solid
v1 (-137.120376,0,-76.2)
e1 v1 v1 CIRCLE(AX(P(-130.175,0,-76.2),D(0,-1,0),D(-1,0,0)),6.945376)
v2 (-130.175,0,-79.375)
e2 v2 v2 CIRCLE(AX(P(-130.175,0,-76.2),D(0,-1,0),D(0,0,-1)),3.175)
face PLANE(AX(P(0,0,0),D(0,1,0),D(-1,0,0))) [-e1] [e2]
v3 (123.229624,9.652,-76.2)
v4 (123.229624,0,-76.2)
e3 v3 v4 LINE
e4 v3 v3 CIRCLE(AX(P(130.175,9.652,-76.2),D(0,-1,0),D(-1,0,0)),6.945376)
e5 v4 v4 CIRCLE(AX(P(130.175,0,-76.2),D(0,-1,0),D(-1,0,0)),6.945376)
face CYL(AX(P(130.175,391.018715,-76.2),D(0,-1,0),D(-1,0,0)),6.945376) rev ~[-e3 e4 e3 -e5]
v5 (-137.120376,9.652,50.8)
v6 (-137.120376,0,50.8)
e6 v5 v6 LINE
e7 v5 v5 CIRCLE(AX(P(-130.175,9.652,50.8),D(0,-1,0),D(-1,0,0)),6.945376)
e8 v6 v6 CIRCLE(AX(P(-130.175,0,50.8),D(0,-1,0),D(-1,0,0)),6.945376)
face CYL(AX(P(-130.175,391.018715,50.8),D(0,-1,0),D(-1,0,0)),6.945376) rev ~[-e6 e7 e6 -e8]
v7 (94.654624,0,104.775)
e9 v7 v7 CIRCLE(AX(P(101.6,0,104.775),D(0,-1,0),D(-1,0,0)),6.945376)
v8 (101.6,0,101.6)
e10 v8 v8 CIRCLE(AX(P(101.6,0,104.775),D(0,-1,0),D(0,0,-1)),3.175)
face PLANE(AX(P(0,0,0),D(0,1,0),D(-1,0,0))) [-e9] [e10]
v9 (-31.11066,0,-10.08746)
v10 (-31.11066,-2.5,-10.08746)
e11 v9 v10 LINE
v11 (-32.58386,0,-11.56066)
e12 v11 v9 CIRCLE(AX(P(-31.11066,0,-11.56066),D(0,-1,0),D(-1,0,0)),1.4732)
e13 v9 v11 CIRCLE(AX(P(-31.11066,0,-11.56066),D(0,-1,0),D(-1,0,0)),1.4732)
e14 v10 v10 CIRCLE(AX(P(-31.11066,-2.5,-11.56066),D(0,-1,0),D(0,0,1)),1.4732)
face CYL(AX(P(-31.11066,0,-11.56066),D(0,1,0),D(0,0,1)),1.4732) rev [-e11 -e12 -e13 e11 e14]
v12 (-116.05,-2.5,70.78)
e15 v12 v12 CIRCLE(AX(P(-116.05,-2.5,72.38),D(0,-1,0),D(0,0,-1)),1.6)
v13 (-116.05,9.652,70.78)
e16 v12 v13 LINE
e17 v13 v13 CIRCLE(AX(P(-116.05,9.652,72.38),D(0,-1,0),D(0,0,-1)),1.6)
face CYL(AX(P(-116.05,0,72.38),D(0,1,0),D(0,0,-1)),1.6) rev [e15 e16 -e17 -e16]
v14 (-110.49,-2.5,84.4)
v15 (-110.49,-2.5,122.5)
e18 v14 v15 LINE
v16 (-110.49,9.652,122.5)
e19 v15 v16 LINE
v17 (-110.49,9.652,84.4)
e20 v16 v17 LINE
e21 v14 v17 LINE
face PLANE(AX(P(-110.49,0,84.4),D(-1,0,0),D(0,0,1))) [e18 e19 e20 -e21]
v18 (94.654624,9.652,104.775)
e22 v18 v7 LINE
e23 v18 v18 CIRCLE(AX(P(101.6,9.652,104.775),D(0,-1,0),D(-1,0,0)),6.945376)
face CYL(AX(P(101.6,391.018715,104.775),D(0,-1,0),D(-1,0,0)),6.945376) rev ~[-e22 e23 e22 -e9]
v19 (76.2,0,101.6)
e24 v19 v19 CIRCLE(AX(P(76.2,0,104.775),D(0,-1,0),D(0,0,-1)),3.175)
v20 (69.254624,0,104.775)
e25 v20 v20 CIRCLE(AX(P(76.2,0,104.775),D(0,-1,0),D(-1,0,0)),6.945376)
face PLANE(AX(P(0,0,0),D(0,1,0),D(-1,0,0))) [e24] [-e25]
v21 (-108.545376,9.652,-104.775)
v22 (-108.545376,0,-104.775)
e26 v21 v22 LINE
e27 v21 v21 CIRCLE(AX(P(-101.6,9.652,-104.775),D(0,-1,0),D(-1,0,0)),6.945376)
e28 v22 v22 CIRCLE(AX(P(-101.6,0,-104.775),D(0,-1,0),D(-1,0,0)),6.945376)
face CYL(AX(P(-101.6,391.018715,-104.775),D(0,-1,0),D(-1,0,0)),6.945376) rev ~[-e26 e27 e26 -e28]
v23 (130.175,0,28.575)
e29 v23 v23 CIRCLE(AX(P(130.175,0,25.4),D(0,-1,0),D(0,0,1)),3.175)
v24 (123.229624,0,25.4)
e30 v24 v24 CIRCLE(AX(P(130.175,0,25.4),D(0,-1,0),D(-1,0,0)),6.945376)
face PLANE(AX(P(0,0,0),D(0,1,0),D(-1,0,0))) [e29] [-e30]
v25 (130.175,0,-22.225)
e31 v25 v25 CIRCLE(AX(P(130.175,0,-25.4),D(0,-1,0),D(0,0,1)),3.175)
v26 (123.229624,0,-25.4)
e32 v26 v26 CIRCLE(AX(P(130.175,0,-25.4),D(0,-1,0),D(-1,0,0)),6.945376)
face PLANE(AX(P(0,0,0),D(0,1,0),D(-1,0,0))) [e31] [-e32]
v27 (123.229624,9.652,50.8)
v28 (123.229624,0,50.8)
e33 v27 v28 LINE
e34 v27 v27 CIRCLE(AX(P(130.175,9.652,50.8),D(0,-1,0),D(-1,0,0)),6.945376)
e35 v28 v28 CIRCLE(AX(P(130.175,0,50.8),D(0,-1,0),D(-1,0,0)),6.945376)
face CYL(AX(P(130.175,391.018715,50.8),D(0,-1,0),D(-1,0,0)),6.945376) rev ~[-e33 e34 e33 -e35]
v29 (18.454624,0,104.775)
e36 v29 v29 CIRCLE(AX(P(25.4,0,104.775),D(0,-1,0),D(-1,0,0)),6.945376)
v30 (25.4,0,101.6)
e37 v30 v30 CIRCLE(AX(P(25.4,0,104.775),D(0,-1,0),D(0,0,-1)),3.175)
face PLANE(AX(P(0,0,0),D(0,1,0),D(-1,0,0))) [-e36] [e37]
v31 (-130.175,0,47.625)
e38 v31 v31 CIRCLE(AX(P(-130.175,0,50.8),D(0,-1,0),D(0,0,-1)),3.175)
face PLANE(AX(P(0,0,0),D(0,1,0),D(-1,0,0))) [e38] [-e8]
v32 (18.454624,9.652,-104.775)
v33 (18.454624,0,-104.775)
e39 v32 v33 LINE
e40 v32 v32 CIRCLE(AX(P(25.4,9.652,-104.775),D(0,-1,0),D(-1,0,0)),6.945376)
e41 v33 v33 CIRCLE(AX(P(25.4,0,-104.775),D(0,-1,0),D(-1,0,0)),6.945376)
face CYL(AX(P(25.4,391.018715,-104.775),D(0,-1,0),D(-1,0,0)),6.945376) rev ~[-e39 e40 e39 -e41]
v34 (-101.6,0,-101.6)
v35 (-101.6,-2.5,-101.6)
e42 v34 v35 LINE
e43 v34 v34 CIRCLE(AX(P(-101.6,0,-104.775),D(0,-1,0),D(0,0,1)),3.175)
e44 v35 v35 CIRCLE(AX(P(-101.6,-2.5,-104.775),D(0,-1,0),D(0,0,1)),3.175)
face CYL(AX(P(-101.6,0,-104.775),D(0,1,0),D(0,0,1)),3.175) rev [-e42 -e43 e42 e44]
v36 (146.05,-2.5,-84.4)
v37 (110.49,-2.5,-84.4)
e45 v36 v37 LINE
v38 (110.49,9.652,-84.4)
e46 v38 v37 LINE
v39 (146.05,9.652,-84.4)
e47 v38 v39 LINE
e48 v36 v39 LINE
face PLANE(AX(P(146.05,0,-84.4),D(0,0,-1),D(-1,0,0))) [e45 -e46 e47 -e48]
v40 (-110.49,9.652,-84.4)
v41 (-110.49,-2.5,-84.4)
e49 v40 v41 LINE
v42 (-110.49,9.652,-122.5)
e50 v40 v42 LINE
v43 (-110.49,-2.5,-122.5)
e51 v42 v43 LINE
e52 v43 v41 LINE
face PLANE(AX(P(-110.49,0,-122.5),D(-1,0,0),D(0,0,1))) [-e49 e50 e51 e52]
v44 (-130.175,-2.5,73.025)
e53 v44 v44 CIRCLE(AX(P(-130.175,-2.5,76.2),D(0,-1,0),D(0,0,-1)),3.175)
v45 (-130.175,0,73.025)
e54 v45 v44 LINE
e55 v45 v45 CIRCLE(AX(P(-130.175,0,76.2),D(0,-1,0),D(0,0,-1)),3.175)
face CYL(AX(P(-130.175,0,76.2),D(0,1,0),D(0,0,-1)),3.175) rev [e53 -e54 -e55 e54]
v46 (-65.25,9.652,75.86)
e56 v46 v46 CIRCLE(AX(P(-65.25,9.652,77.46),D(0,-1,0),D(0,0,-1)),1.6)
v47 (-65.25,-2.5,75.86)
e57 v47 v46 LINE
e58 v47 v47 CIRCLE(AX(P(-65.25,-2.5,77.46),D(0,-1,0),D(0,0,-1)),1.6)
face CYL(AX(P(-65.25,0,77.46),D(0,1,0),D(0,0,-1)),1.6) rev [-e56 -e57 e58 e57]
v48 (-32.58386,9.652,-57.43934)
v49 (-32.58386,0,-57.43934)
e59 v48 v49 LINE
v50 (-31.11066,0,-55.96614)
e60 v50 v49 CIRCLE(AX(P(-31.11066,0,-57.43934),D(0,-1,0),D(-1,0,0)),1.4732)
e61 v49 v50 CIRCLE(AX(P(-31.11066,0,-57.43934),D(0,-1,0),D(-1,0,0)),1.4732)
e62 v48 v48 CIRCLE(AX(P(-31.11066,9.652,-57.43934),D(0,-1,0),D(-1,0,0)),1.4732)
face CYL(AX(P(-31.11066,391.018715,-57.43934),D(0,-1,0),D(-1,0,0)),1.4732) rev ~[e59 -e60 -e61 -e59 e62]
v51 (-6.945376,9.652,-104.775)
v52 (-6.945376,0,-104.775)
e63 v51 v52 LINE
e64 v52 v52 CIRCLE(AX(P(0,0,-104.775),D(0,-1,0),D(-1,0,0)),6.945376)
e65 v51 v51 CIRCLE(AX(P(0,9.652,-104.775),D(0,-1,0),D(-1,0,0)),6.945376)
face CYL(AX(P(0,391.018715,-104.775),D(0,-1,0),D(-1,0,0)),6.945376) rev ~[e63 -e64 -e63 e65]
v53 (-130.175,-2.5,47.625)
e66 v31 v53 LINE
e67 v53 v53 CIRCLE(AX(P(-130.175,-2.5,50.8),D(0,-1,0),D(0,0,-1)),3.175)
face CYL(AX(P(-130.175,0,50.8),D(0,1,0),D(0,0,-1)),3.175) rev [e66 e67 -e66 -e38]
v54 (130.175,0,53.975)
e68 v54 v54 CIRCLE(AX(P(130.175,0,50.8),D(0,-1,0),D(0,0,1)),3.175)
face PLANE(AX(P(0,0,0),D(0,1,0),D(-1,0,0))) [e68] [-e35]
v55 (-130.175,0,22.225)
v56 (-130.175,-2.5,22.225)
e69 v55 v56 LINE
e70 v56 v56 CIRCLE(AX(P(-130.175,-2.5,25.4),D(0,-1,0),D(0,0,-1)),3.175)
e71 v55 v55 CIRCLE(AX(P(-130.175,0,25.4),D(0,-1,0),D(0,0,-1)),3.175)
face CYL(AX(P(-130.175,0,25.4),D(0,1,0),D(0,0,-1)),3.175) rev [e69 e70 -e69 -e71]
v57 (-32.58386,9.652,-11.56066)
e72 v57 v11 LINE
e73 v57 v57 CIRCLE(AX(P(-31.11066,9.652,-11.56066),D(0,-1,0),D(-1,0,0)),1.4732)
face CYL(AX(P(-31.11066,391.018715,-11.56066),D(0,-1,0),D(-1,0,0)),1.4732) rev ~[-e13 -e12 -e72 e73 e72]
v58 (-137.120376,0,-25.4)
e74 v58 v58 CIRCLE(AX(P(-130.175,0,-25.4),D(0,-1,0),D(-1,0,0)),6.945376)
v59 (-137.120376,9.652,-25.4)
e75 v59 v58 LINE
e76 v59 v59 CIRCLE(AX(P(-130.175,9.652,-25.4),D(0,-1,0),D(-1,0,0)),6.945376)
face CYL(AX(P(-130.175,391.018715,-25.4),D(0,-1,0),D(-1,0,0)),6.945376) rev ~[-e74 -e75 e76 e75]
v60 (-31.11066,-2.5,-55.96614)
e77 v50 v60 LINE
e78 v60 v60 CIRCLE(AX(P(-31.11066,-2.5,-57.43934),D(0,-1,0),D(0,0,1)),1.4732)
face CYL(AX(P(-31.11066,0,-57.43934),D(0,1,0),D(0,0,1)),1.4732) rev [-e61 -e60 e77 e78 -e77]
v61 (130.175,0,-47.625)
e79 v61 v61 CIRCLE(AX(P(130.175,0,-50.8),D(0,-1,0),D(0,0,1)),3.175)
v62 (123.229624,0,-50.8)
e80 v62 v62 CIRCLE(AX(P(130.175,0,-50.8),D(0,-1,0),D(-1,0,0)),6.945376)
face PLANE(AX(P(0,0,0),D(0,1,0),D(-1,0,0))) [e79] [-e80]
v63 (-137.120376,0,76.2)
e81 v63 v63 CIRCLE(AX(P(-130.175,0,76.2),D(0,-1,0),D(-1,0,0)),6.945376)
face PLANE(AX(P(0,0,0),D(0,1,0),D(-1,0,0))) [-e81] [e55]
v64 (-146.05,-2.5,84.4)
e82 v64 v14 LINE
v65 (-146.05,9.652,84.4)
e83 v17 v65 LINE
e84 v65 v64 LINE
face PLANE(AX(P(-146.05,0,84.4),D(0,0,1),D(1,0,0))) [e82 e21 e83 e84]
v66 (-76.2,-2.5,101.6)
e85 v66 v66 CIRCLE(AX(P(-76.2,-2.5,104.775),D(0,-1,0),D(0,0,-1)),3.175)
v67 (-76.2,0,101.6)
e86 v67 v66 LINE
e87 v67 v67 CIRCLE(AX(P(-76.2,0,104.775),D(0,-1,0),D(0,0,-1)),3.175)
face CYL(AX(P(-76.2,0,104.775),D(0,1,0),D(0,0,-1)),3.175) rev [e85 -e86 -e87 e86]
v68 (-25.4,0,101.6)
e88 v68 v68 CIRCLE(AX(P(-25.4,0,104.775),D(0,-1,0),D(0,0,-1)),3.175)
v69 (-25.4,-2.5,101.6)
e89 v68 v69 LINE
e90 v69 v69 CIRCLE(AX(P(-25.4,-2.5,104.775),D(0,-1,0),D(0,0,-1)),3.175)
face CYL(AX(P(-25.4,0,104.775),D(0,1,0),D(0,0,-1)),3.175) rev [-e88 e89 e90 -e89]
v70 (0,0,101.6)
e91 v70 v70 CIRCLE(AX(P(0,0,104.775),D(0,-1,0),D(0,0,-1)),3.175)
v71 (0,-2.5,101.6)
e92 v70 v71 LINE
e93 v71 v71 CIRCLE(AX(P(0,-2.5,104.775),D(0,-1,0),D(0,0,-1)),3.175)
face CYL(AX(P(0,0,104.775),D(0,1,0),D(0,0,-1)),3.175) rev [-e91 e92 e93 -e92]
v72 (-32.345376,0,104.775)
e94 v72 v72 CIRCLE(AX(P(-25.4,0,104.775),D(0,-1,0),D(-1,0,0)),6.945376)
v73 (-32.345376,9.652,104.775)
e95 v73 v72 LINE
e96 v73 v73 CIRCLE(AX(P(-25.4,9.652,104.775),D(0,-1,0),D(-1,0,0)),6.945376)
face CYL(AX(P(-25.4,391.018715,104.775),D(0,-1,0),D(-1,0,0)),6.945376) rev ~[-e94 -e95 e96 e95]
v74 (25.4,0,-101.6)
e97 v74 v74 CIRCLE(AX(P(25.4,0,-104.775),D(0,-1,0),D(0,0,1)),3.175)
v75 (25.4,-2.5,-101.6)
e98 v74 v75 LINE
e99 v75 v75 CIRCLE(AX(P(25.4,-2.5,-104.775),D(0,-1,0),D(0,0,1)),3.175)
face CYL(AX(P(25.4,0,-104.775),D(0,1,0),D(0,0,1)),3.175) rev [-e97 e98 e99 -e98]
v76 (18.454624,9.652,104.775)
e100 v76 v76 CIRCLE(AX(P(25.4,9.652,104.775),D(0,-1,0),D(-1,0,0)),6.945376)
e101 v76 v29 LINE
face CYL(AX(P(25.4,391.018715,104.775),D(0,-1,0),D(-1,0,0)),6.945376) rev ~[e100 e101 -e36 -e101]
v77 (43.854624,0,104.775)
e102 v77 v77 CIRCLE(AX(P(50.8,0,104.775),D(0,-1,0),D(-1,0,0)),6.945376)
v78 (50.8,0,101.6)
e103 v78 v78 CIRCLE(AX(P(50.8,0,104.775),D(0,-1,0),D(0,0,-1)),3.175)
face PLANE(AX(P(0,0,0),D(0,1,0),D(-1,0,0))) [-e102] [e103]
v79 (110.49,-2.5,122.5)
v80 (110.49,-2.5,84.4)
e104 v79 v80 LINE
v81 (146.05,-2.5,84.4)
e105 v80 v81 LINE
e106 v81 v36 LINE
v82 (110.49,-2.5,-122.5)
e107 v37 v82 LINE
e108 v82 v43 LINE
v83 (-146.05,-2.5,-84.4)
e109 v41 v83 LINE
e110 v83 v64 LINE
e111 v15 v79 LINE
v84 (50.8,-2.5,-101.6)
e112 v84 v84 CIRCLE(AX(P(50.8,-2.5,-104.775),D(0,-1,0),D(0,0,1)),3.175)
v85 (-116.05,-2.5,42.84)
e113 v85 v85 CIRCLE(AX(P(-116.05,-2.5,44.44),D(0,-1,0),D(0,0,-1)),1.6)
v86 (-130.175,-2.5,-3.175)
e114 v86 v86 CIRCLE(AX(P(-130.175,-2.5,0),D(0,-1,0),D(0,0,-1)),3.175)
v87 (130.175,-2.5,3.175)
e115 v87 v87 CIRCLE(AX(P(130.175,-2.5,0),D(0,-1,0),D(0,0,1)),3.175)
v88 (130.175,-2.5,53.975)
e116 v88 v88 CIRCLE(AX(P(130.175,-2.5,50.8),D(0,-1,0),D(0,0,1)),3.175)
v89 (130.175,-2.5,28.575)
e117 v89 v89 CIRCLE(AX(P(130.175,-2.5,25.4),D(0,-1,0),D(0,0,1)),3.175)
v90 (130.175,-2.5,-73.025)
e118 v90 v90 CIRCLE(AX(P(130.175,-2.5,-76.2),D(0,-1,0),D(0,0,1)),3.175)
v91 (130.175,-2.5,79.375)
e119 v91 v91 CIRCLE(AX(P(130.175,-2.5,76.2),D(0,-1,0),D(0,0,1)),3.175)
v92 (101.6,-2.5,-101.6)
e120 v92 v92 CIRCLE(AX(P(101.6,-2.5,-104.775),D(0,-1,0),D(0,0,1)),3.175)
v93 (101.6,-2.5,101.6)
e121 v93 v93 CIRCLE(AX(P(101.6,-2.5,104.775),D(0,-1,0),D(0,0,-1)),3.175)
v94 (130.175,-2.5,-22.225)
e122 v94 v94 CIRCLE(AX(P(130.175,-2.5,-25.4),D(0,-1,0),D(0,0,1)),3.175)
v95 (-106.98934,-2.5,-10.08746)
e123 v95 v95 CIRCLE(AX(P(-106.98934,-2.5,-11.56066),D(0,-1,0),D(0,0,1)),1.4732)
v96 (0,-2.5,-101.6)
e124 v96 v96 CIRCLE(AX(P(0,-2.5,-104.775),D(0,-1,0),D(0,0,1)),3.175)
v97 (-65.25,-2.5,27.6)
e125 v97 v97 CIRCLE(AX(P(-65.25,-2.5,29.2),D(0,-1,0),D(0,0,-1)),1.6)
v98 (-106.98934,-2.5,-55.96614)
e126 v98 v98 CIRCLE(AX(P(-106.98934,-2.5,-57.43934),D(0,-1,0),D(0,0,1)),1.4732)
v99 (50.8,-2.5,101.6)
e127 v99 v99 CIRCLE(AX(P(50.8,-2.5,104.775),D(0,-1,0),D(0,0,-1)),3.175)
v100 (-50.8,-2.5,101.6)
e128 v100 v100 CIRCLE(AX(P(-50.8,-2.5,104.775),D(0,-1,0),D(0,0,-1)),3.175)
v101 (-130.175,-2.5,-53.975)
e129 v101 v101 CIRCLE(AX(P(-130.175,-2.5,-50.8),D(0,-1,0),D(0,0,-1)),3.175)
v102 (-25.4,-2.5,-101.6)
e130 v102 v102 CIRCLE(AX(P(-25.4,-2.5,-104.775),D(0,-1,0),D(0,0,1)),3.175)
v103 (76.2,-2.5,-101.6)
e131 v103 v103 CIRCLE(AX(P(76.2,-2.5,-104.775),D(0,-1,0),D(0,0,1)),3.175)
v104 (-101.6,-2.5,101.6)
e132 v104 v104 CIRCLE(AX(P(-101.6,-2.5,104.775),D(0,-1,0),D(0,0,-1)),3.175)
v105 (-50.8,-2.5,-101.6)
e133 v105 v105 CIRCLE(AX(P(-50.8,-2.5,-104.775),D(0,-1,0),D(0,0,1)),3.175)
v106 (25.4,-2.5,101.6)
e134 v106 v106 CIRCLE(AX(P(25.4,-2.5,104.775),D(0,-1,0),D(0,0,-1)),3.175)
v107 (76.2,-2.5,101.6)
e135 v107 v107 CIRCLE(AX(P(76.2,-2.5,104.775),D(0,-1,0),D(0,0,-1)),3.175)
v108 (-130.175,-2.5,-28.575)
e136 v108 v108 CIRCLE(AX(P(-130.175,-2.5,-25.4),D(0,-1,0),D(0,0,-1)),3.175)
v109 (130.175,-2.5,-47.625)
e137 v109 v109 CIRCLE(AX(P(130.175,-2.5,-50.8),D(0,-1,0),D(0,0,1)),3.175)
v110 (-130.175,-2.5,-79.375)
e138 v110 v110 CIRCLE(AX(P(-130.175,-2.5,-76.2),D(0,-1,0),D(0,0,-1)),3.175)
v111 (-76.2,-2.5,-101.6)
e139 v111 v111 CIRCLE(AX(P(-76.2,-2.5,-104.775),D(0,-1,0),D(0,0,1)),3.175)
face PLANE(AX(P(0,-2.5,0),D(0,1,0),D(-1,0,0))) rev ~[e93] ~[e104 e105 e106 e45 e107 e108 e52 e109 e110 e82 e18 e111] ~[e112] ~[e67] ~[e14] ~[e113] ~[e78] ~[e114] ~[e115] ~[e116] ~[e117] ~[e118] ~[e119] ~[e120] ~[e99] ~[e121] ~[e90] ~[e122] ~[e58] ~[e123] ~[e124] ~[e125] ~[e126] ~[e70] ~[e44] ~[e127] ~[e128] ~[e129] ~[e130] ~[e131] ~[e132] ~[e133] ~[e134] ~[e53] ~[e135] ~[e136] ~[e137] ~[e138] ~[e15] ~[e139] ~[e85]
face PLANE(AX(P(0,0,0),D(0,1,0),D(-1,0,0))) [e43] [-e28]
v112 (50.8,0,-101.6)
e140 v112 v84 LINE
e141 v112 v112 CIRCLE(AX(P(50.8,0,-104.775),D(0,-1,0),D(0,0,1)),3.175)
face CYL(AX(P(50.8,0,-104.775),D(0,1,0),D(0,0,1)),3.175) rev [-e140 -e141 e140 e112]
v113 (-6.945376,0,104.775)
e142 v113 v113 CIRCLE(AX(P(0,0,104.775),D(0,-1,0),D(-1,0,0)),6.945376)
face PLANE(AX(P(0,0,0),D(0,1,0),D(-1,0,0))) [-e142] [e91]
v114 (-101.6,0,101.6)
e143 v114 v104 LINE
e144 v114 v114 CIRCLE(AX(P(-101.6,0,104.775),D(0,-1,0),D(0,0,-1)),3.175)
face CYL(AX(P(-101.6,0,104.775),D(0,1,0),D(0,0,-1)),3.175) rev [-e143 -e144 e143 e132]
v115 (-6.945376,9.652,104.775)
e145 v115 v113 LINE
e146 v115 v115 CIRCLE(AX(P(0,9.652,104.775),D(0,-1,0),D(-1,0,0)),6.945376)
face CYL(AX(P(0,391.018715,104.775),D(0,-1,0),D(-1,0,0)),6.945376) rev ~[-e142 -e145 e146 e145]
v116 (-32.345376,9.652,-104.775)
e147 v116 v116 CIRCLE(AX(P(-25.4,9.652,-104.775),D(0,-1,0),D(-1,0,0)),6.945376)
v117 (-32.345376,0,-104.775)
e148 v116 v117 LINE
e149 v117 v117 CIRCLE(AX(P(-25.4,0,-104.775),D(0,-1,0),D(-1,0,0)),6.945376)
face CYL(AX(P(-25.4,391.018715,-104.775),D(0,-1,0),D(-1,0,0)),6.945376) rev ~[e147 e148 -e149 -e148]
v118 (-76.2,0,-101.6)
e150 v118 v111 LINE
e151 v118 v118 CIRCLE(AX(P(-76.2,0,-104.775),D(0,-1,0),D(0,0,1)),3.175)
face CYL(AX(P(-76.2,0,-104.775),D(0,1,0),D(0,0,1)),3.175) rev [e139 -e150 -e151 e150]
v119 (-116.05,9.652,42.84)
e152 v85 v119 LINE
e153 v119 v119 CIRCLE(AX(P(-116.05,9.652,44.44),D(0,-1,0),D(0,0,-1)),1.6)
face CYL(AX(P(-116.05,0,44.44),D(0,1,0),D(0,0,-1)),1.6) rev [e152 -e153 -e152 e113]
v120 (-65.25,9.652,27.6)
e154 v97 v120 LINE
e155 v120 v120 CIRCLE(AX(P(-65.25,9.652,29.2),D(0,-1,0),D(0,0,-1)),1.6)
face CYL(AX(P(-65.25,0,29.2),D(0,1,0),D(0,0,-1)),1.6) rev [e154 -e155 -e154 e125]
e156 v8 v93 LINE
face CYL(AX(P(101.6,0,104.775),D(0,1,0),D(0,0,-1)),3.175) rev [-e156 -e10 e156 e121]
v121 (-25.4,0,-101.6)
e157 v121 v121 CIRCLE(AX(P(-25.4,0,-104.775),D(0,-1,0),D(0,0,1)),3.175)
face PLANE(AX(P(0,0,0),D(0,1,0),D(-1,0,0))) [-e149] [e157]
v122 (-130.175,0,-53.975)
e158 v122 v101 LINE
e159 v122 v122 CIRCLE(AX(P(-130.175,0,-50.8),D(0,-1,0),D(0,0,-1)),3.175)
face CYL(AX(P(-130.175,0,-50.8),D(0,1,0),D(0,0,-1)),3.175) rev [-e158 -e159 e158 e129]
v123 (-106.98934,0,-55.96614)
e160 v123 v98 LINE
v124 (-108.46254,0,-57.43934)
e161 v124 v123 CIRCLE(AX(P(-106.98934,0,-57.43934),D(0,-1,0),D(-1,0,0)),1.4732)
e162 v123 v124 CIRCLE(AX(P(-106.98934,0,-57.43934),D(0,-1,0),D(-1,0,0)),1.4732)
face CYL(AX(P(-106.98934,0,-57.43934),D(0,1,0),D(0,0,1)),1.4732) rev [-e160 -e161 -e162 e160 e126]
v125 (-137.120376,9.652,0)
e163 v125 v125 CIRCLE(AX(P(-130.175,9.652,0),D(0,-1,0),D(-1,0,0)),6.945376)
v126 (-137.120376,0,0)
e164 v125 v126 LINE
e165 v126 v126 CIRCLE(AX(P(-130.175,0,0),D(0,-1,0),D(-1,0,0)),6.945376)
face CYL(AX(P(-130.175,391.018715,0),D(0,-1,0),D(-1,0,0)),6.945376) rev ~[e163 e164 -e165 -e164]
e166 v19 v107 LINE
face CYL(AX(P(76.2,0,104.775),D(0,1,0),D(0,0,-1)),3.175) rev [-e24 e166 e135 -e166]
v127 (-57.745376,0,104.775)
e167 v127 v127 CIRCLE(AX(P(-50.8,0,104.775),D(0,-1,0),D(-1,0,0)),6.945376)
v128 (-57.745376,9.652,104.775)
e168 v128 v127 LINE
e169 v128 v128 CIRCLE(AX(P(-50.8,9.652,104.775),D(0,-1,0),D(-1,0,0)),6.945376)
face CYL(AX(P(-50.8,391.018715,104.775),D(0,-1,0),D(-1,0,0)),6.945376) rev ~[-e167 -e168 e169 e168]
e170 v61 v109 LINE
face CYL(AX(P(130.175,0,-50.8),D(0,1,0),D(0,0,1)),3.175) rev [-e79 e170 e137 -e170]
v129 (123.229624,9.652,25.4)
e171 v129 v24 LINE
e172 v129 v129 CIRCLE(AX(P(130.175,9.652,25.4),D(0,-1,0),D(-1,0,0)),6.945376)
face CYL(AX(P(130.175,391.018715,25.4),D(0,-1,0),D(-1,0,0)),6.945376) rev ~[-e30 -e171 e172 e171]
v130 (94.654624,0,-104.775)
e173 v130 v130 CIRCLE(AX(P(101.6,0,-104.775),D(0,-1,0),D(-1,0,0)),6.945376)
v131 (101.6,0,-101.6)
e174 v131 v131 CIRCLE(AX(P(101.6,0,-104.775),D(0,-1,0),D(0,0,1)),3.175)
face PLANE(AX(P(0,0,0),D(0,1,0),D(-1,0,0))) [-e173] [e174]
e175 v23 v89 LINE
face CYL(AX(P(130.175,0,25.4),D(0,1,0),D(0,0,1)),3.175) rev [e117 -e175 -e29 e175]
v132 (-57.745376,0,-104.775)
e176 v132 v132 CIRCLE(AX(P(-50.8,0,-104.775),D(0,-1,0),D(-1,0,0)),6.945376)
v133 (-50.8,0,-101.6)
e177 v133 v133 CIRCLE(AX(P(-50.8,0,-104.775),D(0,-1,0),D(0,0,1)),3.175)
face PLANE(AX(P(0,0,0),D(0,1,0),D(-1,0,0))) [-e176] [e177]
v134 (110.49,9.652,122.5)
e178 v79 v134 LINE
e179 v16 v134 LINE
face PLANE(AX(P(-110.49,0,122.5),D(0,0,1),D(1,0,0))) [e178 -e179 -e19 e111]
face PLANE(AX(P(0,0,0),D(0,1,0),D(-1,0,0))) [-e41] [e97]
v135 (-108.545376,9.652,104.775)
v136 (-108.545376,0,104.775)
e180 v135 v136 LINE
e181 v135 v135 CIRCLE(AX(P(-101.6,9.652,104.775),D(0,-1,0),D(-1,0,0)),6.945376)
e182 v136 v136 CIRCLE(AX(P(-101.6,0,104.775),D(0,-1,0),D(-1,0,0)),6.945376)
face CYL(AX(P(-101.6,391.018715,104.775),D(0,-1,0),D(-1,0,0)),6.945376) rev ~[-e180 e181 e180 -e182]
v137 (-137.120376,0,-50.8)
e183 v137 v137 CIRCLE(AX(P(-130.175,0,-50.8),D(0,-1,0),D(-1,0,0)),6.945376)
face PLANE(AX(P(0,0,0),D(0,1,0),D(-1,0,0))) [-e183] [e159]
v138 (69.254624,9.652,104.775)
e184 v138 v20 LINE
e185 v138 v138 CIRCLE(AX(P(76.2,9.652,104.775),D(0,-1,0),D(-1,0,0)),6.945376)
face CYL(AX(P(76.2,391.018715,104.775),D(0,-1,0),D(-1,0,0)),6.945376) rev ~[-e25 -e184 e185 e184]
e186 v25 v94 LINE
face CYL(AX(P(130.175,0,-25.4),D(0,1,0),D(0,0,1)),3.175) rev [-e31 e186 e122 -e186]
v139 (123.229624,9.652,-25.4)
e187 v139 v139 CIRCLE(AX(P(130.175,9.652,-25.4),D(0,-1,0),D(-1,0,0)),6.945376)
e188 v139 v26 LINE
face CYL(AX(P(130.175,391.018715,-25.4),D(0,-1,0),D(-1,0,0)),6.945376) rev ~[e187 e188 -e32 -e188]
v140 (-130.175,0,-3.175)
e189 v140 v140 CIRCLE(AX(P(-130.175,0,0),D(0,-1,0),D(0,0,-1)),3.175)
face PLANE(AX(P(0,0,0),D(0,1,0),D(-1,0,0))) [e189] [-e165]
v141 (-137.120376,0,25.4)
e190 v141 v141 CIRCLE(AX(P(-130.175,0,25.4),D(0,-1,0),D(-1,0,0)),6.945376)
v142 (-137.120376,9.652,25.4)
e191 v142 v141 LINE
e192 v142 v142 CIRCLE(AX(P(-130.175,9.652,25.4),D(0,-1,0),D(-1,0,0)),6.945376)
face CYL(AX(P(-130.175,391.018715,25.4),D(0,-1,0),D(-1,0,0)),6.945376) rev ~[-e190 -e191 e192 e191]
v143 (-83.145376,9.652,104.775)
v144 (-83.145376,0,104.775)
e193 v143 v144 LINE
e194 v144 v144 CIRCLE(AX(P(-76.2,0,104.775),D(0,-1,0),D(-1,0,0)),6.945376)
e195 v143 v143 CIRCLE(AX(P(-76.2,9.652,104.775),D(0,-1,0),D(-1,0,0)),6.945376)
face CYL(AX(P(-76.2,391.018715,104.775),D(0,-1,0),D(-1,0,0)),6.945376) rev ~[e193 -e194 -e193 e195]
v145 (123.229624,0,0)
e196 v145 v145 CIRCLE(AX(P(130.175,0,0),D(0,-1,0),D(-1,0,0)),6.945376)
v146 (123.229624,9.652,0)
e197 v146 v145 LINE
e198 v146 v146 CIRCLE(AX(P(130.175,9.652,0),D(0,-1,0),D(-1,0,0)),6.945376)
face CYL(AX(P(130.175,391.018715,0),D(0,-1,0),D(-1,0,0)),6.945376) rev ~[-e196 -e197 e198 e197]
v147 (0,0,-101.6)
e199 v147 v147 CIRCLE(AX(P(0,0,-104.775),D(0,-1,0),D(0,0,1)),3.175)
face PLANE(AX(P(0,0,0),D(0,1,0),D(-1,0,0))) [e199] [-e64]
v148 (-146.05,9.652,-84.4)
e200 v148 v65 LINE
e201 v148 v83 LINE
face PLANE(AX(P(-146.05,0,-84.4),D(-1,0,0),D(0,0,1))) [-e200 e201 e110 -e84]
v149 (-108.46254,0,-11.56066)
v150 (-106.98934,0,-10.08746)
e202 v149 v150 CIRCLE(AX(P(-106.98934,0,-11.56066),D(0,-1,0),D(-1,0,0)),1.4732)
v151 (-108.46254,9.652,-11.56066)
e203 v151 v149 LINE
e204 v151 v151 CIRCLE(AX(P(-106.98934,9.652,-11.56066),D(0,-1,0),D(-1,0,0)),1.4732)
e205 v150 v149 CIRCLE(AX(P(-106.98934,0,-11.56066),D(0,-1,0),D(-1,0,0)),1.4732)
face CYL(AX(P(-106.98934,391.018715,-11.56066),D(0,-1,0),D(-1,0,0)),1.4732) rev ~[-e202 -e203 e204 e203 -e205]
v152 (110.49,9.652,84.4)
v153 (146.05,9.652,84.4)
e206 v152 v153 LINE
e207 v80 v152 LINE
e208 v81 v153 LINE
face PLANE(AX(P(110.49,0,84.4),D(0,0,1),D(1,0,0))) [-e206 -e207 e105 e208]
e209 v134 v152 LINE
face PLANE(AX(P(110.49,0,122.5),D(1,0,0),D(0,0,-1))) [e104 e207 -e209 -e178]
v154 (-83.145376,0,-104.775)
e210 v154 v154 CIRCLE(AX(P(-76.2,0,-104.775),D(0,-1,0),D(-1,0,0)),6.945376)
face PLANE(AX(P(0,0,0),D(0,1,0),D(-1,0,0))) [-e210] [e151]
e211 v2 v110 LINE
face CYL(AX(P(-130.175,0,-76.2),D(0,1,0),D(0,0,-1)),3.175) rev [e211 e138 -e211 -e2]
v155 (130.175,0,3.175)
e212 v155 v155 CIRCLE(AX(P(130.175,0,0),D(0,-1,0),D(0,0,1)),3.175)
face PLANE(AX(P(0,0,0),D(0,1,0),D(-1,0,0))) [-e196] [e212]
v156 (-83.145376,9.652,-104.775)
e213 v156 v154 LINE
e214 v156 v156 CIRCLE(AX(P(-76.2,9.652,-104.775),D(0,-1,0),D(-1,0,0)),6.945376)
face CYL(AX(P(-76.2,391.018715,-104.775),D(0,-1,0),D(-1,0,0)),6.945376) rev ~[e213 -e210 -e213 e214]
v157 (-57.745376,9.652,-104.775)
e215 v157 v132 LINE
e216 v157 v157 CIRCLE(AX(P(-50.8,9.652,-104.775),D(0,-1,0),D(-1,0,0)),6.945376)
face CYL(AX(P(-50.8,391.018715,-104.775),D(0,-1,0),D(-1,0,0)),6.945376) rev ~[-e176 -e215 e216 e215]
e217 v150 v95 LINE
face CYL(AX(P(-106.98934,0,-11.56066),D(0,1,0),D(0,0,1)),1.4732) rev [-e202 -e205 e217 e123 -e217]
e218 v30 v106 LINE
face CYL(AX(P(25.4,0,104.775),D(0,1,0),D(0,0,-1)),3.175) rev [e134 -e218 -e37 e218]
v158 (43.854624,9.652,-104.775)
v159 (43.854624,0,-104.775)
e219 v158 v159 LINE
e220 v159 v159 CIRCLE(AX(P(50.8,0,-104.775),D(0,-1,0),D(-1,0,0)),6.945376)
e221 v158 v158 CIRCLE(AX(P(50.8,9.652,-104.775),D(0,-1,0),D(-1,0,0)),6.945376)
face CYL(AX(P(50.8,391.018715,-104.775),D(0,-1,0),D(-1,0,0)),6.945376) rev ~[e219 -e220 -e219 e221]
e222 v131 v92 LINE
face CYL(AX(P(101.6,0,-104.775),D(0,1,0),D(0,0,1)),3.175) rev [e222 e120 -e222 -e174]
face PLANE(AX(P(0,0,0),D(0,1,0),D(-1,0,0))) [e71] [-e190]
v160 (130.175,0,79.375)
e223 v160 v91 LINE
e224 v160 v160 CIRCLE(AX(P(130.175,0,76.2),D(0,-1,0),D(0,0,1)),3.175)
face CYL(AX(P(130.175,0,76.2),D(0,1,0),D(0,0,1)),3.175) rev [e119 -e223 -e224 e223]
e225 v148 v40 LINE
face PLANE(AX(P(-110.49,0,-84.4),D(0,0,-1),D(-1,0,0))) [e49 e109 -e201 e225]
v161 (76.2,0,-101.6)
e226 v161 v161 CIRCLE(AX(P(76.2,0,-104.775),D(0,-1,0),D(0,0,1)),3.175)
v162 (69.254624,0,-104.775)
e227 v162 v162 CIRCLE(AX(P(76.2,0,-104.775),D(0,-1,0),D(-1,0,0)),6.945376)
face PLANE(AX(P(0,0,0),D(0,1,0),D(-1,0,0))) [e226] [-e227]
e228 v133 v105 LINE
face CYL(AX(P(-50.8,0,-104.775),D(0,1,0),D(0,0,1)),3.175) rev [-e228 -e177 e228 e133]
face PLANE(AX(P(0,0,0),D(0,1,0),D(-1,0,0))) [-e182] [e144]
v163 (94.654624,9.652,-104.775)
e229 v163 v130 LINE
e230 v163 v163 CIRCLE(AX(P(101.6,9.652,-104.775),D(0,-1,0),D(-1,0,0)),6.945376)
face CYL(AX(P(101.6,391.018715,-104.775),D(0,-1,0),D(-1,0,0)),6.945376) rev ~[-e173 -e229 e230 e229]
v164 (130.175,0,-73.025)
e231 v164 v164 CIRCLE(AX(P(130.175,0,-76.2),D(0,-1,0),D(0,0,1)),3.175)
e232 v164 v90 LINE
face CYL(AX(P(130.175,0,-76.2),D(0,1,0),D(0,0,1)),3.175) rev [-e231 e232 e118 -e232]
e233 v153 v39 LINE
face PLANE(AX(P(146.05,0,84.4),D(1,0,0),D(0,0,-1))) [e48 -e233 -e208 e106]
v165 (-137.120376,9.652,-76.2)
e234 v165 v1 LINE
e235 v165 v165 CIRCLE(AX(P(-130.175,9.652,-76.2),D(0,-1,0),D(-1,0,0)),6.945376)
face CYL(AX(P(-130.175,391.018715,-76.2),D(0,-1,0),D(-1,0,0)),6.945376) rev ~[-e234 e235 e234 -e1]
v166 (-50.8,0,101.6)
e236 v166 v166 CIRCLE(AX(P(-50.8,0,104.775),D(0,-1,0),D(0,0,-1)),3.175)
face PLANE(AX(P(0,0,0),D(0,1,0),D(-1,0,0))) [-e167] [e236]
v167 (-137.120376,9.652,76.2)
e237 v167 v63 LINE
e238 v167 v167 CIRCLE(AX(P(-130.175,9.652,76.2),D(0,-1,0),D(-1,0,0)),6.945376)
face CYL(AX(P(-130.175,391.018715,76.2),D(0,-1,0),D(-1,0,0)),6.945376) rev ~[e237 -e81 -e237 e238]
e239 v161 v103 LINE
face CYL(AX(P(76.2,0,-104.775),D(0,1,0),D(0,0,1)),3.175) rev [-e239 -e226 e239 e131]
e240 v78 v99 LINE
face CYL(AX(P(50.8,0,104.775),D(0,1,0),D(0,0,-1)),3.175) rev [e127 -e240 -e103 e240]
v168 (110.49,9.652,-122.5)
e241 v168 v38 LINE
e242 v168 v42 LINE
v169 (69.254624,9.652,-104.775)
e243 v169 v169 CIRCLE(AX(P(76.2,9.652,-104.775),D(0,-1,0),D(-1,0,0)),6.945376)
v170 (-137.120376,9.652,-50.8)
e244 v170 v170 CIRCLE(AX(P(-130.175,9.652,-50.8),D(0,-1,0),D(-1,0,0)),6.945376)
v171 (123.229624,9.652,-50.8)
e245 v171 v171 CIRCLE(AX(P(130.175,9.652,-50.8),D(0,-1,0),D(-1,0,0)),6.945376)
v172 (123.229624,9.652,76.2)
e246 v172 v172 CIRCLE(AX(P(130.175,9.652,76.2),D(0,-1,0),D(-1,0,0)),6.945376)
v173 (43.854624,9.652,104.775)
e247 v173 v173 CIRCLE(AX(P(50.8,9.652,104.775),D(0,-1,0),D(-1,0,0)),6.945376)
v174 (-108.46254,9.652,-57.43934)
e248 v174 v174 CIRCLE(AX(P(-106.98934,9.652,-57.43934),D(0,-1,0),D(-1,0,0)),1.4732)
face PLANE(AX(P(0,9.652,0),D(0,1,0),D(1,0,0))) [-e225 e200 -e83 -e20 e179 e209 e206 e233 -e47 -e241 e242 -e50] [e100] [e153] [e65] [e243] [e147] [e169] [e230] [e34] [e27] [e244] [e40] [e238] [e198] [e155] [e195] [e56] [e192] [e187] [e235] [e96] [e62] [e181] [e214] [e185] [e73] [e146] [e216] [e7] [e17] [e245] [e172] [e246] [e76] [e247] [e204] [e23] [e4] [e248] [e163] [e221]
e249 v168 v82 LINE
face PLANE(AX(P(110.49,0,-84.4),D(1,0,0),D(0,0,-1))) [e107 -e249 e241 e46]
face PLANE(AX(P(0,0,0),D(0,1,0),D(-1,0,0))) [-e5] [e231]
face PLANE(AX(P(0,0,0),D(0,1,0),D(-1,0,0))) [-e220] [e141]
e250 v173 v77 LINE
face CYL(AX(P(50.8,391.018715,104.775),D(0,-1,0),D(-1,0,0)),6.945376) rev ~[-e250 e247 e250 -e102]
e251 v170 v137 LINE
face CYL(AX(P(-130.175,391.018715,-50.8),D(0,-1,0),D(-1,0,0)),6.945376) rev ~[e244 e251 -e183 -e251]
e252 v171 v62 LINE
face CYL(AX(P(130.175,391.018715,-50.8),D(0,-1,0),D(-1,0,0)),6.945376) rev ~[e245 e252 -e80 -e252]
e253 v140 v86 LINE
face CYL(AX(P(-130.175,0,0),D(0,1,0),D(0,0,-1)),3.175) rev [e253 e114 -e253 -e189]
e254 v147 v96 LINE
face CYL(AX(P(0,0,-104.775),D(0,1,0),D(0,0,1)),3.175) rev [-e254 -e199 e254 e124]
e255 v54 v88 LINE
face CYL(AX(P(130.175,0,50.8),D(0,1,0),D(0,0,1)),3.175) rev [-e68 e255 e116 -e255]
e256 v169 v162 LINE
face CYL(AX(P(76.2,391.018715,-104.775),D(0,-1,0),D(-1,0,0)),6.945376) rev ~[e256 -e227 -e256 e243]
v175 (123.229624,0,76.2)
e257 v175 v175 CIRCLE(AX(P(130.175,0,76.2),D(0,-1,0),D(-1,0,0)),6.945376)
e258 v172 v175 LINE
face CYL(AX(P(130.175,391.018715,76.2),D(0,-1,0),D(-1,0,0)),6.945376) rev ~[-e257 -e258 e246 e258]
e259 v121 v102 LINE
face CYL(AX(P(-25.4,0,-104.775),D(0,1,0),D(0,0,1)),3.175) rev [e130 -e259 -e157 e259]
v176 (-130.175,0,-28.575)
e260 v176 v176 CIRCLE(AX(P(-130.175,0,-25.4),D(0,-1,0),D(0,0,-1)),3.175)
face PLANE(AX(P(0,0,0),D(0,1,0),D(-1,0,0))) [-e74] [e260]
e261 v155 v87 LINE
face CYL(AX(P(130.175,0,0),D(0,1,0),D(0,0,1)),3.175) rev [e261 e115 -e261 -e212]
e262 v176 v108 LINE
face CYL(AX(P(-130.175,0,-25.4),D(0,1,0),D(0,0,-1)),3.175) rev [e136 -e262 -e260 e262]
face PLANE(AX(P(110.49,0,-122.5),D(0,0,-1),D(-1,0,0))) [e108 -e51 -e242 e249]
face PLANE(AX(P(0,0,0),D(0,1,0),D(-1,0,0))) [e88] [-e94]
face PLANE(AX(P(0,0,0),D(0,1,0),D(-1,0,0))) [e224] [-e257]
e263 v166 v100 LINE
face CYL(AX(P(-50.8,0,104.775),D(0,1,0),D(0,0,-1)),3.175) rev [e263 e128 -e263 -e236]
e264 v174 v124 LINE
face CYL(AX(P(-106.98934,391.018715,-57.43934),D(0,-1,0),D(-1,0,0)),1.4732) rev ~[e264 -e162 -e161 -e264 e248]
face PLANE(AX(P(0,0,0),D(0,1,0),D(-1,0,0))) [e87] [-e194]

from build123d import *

# Parameters (mm, degrees)
BOSS_EXTRUDE1_DEPTH              = 9.652
SKETCH2_W                        = 35.55999999999999
SKETCH2_H                        = 38.099999999999994
CUT_EXTRUDE2_DEPTH               = 191.8664810908401
F_35_64_0_54688_DIAMETER_HOLE1_D = 13.890752
CUT_EXTRUDE3_DEPTH               = 191.8664810908401
CUT_EXTRUDE3_DEPTH_BACK          = 22.500000000000014
SKETCH7_R                        = 1.600000000000006
SKETCH7_R_2                      = 1.600000000000005
F_32_0_116_DIAMETER_HOLE2_D      = 2.9464
SKETCH12_R                       = 1.600000000000006
SKETCH12_R_2                     = 1.600000000000005
SKETCH12_R_3                     = 1.4731999999999996
SKETCH12_R_4                     = 1.4732
SKETCH12_R_5                     = 3.174999999999997
SKETCH12_R_6                     = 3.1749999999999954
SKETCH12_R_7                     = 3.175000000000005
BOSS_EXTRUDE3_DEPTH              = 2.5
SKETCH12_2_R                     = 1.600000000000006
SKETCH12_2_R_2                   = 1.600000000000005
SKETCH12_2_R_3                   = 1.4731999999999996
SKETCH12_2_R_4                   = 1.4732
SKETCH12_2_R_5                   = 3.174999999999997
SKETCH12_2_R_6                   = 3.1749999999999954
SKETCH12_2_R_7                   = 3.175000000000005
BOSS_EXTRUDE4_DEPTH              = 2.5


with BuildPart() as part:
    # Sketch1 → Boss-Extrude1 (new body)
    with BuildSketch(Plane(origin=(0, 0, 0), x_dir=(1, 0, 0), z_dir=(0, 1, 0))):
        Polygon((146.05, 122.50000000000006), (-146.04999999999995, 122.49999999999997), (-146.04999999999993, -122.50000000000003), (146.05000000000004, -122.5), align=None)
    extrude(amount=BOSS_EXTRUDE1_DEPTH)

    # Sketch2 → Cut-Extrude2 (cut, through all)
    with BuildSketch(Plane(origin=(0, 9.652, 0), x_dir=(1, 0, 0), z_dir=(0, 1, 0))):
        with Locations((-128.26999999999995, 103.44999999999997)):
            Rectangle(SKETCH2_W, SKETCH2_H)
        Polygon((146.04999999999995, 84.40000000000002), (146.05, 122.50000000000006), (110.48999999999997, 122.5), (110.48999999999997, 84.4), align=None)
        Polygon((146.05000000000004, -122.5), (110.48999999999997, -122.5), (110.48999999999997, -84.4), (146.04999999999995, -84.40000000000002), align=None)
        Polygon((-146.0499999999999, -84.40000000000006), (-146.04999999999993, -122.50000000000003), (-110.48999999999991, -122.50000000000003), (-110.48999999999991, -84.40000000000003), align=None)
    extrude(amount=-CUT_EXTRUDE2_DEPTH, mode=Mode.SUBTRACT)

    # 35/64 (0.54688) Diameter Hole1 (through all)
    with Locations(Plane(origin=(0, 9.652, 0), x_dir=(1, 0, 0), z_dir=(0, 1, 0))):
        with Locations((-101.6, -104.775), (-25.4, 104.775), (0, 104.775), (-130.175, 0), (-50.8, 104.775), (-76.2, 104.775), (76.2, 104.775), (50.8, 104.775), (25.4, 104.775), (76.2, -104.775), (50.8, -104.775), (25.4, -104.775), (0, -104.775), (-25.4, -104.775), (-50.8, -104.775), (-76.2, -104.775), (-130.175, 25.4), (-130.175, 50.8), (-130.175, -50.8), (-130.175, -25.4), (130.175, -50.8), (130.175, -25.4), (130.175, 0), (130.175, 25.4), (130.175, 50.8), (-130.175, 76.2), (130.175, 76.2), (130.175, -76.2), (-130.175, -76.2), (-101.6, 104.775), (101.6, 104.775), (101.6, -104.775)):
            Hole(F_35_64_0_54688_DIAMETER_HOLE1_D / 2)

    # Sketch7 → Cut-Extrude3 (cut, two sides: drawn at the far end of the back side and taken through both)
    with BuildSketch(Plane(origin=(0, 9.652, 0), x_dir=(1, 0, 0), z_dir=(0, 1, 0)).offset(-CUT_EXTRUDE3_DEPTH_BACK)):
        with Locations((-116.04999999999995, -44.44000000000001)):
            Circle(SKETCH7_R)
        with Locations((-116.04999999999995, -72.38000000000001)):
            Circle(SKETCH7_R)
        with Locations((-65.24999999999997, -77.46000000000001)):
            Circle(SKETCH7_R)
        with Locations((-65.24999999999997, -29.20000000000001)):
            Circle(SKETCH7_R_2)
    extrude(amount=CUT_EXTRUDE3_DEPTH + CUT_EXTRUDE3_DEPTH_BACK, mode=Mode.SUBTRACT)

    # #32 (0.116) Diameter Hole2 (through all)
    with Locations(Plane(origin=(0, 9.652, 0), x_dir=(1, 0, 0), z_dir=(0, 1, 0))):
        with Locations((-106.989339828, 57.439339828), (-31.110660172, 57.439339828), (-31.110660172, 11.560660172), (-106.989339828, 11.560660172)):
            Hole(F_32_0_116_DIAMETER_HOLE2_D / 2)

    # Sketch12 → Boss-Extrude3 (add)
    with BuildSketch(Plane.XZ):
        Polygon((-146.0499999999999, 84.40000000000006), (-110.48999999999991, 84.40000000000003), (-110.48999999999991, 122.50000000000003), (110.48999999999997, 122.5), (110.48999999999997, 84.4), (146.04999999999995, 84.40000000000002), (146.04999999999995, -84.40000000000002), (110.48999999999997, -84.4), (110.48999999999997, -122.5), (-110.48999999999997, -122.49999999999997), (-110.48999999999997, -84.39999999999998), (-146.04999999999995, -84.39999999999998), align=None)
        with Locations((-65.24999999999997, 77.46000000000001)):
            Circle(SKETCH12_R, mode=Mode.SUBTRACT)
        with Locations((-116.04999999999995, 72.38000000000001)):
            Circle(SKETCH12_R, mode=Mode.SUBTRACT)
        with Locations((-116.04999999999995, 44.44000000000001)):
            Circle(SKETCH12_R, mode=Mode.SUBTRACT)
        with Locations((-65.24999999999997, 29.20000000000001)):
            Circle(SKETCH12_R_2, mode=Mode.SUBTRACT)
        with Locations((-106.98933982822012, -11.560660171779812)):
            Circle(SKETCH12_R_3, mode=Mode.SUBTRACT)
        with Locations((-31.11066017177974, -11.56066017177984)):
            Circle(SKETCH12_R_4, mode=Mode.SUBTRACT)
        with Locations((-31.110660171779756, -57.43933982822016)):
            Circle(SKETCH12_R_4, mode=Mode.SUBTRACT)
        with Locations((-106.98933982822014, -57.43933982822016)):
            Circle(SKETCH12_R_4, mode=Mode.SUBTRACT)
        with Locations((-101.6, 104.77499999999998)):
            Circle(SKETCH12_R_5, mode=Mode.SUBTRACT)
        with Locations((-76.19999999999999, 104.77499999999998)):
            Circle(SKETCH12_R_5, mode=Mode.SUBTRACT)
        with Locations((-50.8, 104.77499999999998)):
            Circle(SKETCH12_R_5, mode=Mode.SUBTRACT)
        with Locations((-25.400000000000006, 104.77499999999998)):
            Circle(SKETCH12_R_5, mode=Mode.SUBTRACT)
        with Locations((0, 104.77499999999998)):
            Circle(SKETCH12_R_5, mode=Mode.SUBTRACT)
        with Locations((25.400000000000006, 104.77499999999998)):
            Circle(SKETCH12_R_5, mode=Mode.SUBTRACT)
        with Locations((50.79999999999998, 104.77499999999998)):
            Circle(SKETCH12_R_5, mode=Mode.SUBTRACT)
        with Locations((76.19999999999999, 104.77499999999998)):
            Circle(SKETCH12_R_5, mode=Mode.SUBTRACT)
        with Locations((101.6, 104.77499999999998)):
            Circle(SKETCH12_R_5, mode=Mode.SUBTRACT)
        with Locations((101.59999999999988, -104.77500000000003)):
            Circle(SKETCH12_R_5, mode=Mode.SUBTRACT)
        with Locations((76.19999999999987, -104.77500000000003)):
            Circle(SKETCH12_R_5, mode=Mode.SUBTRACT)
        with Locations((50.7999999999999, -104.775)):
            Circle(SKETCH12_R_5, mode=Mode.SUBTRACT)
        with Locations((25.39999999999993, -104.775)):
            Circle(SKETCH12_R_5, mode=Mode.SUBTRACT)
        with Locations((-5.973e-14, -104.77499999999998)):
            Circle(SKETCH12_R_6, mode=Mode.SUBTRACT)
        with Locations((-25.400000000000055, -104.77499999999995)):
            Circle(SKETCH12_R_7, mode=Mode.SUBTRACT)
        with Locations((-50.800000000000026, -104.77499999999995)):
            Circle(SKETCH12_R_5, mode=Mode.SUBTRACT)
        with Locations((-76.19999999999999, -104.77499999999992)):
            Circle(SKETCH12_R_5, mode=Mode.SUBTRACT)
        with Locations((-101.6, -104.77499999999992)):
            Circle(SKETCH12_R_5, mode=Mode.SUBTRACT)
        with Locations((-130.17499999999998, 76.19999999999999)):
            Circle(SKETCH12_R_5, mode=Mode.SUBTRACT)
        with Locations((-130.1749999999997, 50.79999999999999)):
            Circle(SKETCH12_R_5, mode=Mode.SUBTRACT)
        with Locations((-130.17499999999947, 25.39999999999999)):
            Circle(SKETCH12_R_5, mode=Mode.SUBTRACT)
        with Locations((-130.1749999999992, 0)):
            Circle(SKETCH12_R_5, mode=Mode.SUBTRACT)
        with Locations((-130.17499999999893, -25.400000000000006)):
            Circle(SKETCH12_R_5, mode=Mode.SUBTRACT)
        with Locations((-130.17499999999865, -50.80000000000001)):
            Circle(SKETCH12_R_5, mode=Mode.SUBTRACT)
        with Locations((-130.1749999999984, -76.19999999999999)):
            Circle(SKETCH12_R_5, mode=Mode.SUBTRACT)
        with Locations((130.17499999999833, -76.19999999999993)):
            Circle(SKETCH12_R_5, mode=Mode.SUBTRACT)
        with Locations((130.17499999999865, -50.799999999999955)):
            Circle(SKETCH12_R_5, mode=Mode.SUBTRACT)
        with Locations((130.17499999999893, -25.39999999999995)):
            Circle(SKETCH12_R_5, mode=Mode.SUBTRACT)
        with Locations((130.1749999999992, 0)):
            Circle(SKETCH12_R_5, mode=Mode.SUBTRACT)
        with Locations((130.17499999999947, 25.39999999999999)):
            Circle(SKETCH12_R_5, mode=Mode.SUBTRACT)
        with Locations((130.1749999999997, 50.79999999999999)):
            Circle(SKETCH12_R_5, mode=Mode.SUBTRACT)
        with Locations((130.17500000000004, 76.19999999999996)):
            Circle(SKETCH12_R_5, mode=Mode.SUBTRACT)
    extrude(amount=BOSS_EXTRUDE3_DEPTH)

    # Sketch12<2> → Boss-Extrude4 (add)
    with BuildSketch(Plane.XZ):
        Polygon((-146.0499999999999, 84.40000000000006), (-110.48999999999991, 84.40000000000003), (-110.48999999999991, 122.50000000000003), (110.48999999999997, 122.5), (110.48999999999997, 84.4), (146.04999999999995, 84.40000000000002), (146.04999999999995, -84.40000000000002), (110.48999999999997, -84.4), (110.48999999999997, -122.5), (-110.48999999999997, -122.49999999999997), (-110.48999999999997, -84.39999999999998), (-146.04999999999995, -84.39999999999998), align=None)
        with Locations((-65.24999999999997, 77.46000000000001)):
            Circle(SKETCH12_2_R, mode=Mode.SUBTRACT)
        with Locations((-116.04999999999995, 72.38000000000001)):
            Circle(SKETCH12_2_R, mode=Mode.SUBTRACT)
        with Locations((-116.04999999999995, 44.44000000000001)):
            Circle(SKETCH12_2_R, mode=Mode.SUBTRACT)
        with Locations((-65.24999999999997, 29.20000000000001)):
            Circle(SKETCH12_2_R_2, mode=Mode.SUBTRACT)
        with Locations((-106.98933982822012, -11.560660171779812)):
            Circle(SKETCH12_2_R_3, mode=Mode.SUBTRACT)
        with Locations((-31.11066017177974, -11.56066017177984)):
            Circle(SKETCH12_2_R_4, mode=Mode.SUBTRACT)
        with Locations((-31.110660171779756, -57.43933982822016)):
            Circle(SKETCH12_2_R_4, mode=Mode.SUBTRACT)
        with Locations((-106.98933982822014, -57.43933982822016)):
            Circle(SKETCH12_2_R_4, mode=Mode.SUBTRACT)
        with Locations((-101.6, 104.77499999999998)):
            Circle(SKETCH12_2_R_5, mode=Mode.SUBTRACT)
        with Locations((-76.19999999999999, 104.77499999999998)):
            Circle(SKETCH12_2_R_5, mode=Mode.SUBTRACT)
        with Locations((-50.8, 104.77499999999998)):
            Circle(SKETCH12_2_R_5, mode=Mode.SUBTRACT)
        with Locations((-25.400000000000006, 104.77499999999998)):
            Circle(SKETCH12_2_R_5, mode=Mode.SUBTRACT)
        with Locations((0, 104.77499999999998)):
            Circle(SKETCH12_2_R_5, mode=Mode.SUBTRACT)
        with Locations((25.400000000000006, 104.77499999999998)):
            Circle(SKETCH12_2_R_5, mode=Mode.SUBTRACT)
        with Locations((50.79999999999998, 104.77499999999998)):
            Circle(SKETCH12_2_R_5, mode=Mode.SUBTRACT)
        with Locations((76.19999999999999, 104.77499999999998)):
            Circle(SKETCH12_2_R_5, mode=Mode.SUBTRACT)
        with Locations((101.6, 104.77499999999998)):
            Circle(SKETCH12_2_R_5, mode=Mode.SUBTRACT)
        with Locations((101.59999999999988, -104.77500000000003)):
            Circle(SKETCH12_2_R_5, mode=Mode.SUBTRACT)
        with Locations((76.19999999999987, -104.77500000000003)):
            Circle(SKETCH12_2_R_5, mode=Mode.SUBTRACT)
        with Locations((50.7999999999999, -104.775)):
            Circle(SKETCH12_2_R_5, mode=Mode.SUBTRACT)
        with Locations((25.39999999999993, -104.775)):
            Circle(SKETCH12_2_R_5, mode=Mode.SUBTRACT)
        with Locations((-5.973e-14, -104.77499999999998)):
            Circle(SKETCH12_2_R_6, mode=Mode.SUBTRACT)
        with Locations((-25.400000000000055, -104.77499999999995)):
            Circle(SKETCH12_2_R_7, mode=Mode.SUBTRACT)
        with Locations((-50.800000000000026, -104.77499999999995)):
            Circle(SKETCH12_2_R_5, mode=Mode.SUBTRACT)
        with Locations((-76.19999999999999, -104.77499999999992)):
            Circle(SKETCH12_2_R_5, mode=Mode.SUBTRACT)
        with Locations((-101.6, -104.77499999999992)):
            Circle(SKETCH12_2_R_5, mode=Mode.SUBTRACT)
        with Locations((-130.17499999999998, 76.19999999999999)):
            Circle(SKETCH12_2_R_5, mode=Mode.SUBTRACT)
        with Locations((-130.1749999999997, 50.79999999999999)):
            Circle(SKETCH12_2_R_5, mode=Mode.SUBTRACT)
        with Locations((-130.17499999999947, 25.39999999999999)):
            Circle(SKETCH12_2_R_5, mode=Mode.SUBTRACT)
        with Locations((-130.1749999999992, 0)):
            Circle(SKETCH12_2_R_5, mode=Mode.SUBTRACT)
        with Locations((-130.17499999999893, -25.400000000000006)):
            Circle(SKETCH12_2_R_5, mode=Mode.SUBTRACT)
        with Locations((-130.17499999999865, -50.80000000000001)):
            Circle(SKETCH12_2_R_5, mode=Mode.SUBTRACT)
        with Locations((-130.1749999999984, -76.19999999999999)):
            Circle(SKETCH12_2_R_5, mode=Mode.SUBTRACT)
        with Locations((130.17499999999833, -76.19999999999993)):
            Circle(SKETCH12_2_R_5, mode=Mode.SUBTRACT)
        with Locations((130.17499999999865, -50.799999999999955)):
            Circle(SKETCH12_2_R_5, mode=Mode.SUBTRACT)
        with Locations((130.17499999999893, -25.39999999999995)):
            Circle(SKETCH12_2_R_5, mode=Mode.SUBTRACT)
        with Locations((130.1749999999992, 0)):
            Circle(SKETCH12_2_R_5, mode=Mode.SUBTRACT)
        with Locations((130.17499999999947, 25.39999999999999)):
            Circle(SKETCH12_2_R_5, mode=Mode.SUBTRACT)
        with Locations((130.1749999999997, 50.79999999999999)):
            Circle(SKETCH12_2_R_5, mode=Mode.SUBTRACT)
        with Locations((130.17500000000004, 76.19999999999996)):
            Circle(SKETCH12_2_R_5, mode=Mode.SUBTRACT)
    extrude(amount=BOSS_EXTRUDE4_DEPTH)


solid = part.part
